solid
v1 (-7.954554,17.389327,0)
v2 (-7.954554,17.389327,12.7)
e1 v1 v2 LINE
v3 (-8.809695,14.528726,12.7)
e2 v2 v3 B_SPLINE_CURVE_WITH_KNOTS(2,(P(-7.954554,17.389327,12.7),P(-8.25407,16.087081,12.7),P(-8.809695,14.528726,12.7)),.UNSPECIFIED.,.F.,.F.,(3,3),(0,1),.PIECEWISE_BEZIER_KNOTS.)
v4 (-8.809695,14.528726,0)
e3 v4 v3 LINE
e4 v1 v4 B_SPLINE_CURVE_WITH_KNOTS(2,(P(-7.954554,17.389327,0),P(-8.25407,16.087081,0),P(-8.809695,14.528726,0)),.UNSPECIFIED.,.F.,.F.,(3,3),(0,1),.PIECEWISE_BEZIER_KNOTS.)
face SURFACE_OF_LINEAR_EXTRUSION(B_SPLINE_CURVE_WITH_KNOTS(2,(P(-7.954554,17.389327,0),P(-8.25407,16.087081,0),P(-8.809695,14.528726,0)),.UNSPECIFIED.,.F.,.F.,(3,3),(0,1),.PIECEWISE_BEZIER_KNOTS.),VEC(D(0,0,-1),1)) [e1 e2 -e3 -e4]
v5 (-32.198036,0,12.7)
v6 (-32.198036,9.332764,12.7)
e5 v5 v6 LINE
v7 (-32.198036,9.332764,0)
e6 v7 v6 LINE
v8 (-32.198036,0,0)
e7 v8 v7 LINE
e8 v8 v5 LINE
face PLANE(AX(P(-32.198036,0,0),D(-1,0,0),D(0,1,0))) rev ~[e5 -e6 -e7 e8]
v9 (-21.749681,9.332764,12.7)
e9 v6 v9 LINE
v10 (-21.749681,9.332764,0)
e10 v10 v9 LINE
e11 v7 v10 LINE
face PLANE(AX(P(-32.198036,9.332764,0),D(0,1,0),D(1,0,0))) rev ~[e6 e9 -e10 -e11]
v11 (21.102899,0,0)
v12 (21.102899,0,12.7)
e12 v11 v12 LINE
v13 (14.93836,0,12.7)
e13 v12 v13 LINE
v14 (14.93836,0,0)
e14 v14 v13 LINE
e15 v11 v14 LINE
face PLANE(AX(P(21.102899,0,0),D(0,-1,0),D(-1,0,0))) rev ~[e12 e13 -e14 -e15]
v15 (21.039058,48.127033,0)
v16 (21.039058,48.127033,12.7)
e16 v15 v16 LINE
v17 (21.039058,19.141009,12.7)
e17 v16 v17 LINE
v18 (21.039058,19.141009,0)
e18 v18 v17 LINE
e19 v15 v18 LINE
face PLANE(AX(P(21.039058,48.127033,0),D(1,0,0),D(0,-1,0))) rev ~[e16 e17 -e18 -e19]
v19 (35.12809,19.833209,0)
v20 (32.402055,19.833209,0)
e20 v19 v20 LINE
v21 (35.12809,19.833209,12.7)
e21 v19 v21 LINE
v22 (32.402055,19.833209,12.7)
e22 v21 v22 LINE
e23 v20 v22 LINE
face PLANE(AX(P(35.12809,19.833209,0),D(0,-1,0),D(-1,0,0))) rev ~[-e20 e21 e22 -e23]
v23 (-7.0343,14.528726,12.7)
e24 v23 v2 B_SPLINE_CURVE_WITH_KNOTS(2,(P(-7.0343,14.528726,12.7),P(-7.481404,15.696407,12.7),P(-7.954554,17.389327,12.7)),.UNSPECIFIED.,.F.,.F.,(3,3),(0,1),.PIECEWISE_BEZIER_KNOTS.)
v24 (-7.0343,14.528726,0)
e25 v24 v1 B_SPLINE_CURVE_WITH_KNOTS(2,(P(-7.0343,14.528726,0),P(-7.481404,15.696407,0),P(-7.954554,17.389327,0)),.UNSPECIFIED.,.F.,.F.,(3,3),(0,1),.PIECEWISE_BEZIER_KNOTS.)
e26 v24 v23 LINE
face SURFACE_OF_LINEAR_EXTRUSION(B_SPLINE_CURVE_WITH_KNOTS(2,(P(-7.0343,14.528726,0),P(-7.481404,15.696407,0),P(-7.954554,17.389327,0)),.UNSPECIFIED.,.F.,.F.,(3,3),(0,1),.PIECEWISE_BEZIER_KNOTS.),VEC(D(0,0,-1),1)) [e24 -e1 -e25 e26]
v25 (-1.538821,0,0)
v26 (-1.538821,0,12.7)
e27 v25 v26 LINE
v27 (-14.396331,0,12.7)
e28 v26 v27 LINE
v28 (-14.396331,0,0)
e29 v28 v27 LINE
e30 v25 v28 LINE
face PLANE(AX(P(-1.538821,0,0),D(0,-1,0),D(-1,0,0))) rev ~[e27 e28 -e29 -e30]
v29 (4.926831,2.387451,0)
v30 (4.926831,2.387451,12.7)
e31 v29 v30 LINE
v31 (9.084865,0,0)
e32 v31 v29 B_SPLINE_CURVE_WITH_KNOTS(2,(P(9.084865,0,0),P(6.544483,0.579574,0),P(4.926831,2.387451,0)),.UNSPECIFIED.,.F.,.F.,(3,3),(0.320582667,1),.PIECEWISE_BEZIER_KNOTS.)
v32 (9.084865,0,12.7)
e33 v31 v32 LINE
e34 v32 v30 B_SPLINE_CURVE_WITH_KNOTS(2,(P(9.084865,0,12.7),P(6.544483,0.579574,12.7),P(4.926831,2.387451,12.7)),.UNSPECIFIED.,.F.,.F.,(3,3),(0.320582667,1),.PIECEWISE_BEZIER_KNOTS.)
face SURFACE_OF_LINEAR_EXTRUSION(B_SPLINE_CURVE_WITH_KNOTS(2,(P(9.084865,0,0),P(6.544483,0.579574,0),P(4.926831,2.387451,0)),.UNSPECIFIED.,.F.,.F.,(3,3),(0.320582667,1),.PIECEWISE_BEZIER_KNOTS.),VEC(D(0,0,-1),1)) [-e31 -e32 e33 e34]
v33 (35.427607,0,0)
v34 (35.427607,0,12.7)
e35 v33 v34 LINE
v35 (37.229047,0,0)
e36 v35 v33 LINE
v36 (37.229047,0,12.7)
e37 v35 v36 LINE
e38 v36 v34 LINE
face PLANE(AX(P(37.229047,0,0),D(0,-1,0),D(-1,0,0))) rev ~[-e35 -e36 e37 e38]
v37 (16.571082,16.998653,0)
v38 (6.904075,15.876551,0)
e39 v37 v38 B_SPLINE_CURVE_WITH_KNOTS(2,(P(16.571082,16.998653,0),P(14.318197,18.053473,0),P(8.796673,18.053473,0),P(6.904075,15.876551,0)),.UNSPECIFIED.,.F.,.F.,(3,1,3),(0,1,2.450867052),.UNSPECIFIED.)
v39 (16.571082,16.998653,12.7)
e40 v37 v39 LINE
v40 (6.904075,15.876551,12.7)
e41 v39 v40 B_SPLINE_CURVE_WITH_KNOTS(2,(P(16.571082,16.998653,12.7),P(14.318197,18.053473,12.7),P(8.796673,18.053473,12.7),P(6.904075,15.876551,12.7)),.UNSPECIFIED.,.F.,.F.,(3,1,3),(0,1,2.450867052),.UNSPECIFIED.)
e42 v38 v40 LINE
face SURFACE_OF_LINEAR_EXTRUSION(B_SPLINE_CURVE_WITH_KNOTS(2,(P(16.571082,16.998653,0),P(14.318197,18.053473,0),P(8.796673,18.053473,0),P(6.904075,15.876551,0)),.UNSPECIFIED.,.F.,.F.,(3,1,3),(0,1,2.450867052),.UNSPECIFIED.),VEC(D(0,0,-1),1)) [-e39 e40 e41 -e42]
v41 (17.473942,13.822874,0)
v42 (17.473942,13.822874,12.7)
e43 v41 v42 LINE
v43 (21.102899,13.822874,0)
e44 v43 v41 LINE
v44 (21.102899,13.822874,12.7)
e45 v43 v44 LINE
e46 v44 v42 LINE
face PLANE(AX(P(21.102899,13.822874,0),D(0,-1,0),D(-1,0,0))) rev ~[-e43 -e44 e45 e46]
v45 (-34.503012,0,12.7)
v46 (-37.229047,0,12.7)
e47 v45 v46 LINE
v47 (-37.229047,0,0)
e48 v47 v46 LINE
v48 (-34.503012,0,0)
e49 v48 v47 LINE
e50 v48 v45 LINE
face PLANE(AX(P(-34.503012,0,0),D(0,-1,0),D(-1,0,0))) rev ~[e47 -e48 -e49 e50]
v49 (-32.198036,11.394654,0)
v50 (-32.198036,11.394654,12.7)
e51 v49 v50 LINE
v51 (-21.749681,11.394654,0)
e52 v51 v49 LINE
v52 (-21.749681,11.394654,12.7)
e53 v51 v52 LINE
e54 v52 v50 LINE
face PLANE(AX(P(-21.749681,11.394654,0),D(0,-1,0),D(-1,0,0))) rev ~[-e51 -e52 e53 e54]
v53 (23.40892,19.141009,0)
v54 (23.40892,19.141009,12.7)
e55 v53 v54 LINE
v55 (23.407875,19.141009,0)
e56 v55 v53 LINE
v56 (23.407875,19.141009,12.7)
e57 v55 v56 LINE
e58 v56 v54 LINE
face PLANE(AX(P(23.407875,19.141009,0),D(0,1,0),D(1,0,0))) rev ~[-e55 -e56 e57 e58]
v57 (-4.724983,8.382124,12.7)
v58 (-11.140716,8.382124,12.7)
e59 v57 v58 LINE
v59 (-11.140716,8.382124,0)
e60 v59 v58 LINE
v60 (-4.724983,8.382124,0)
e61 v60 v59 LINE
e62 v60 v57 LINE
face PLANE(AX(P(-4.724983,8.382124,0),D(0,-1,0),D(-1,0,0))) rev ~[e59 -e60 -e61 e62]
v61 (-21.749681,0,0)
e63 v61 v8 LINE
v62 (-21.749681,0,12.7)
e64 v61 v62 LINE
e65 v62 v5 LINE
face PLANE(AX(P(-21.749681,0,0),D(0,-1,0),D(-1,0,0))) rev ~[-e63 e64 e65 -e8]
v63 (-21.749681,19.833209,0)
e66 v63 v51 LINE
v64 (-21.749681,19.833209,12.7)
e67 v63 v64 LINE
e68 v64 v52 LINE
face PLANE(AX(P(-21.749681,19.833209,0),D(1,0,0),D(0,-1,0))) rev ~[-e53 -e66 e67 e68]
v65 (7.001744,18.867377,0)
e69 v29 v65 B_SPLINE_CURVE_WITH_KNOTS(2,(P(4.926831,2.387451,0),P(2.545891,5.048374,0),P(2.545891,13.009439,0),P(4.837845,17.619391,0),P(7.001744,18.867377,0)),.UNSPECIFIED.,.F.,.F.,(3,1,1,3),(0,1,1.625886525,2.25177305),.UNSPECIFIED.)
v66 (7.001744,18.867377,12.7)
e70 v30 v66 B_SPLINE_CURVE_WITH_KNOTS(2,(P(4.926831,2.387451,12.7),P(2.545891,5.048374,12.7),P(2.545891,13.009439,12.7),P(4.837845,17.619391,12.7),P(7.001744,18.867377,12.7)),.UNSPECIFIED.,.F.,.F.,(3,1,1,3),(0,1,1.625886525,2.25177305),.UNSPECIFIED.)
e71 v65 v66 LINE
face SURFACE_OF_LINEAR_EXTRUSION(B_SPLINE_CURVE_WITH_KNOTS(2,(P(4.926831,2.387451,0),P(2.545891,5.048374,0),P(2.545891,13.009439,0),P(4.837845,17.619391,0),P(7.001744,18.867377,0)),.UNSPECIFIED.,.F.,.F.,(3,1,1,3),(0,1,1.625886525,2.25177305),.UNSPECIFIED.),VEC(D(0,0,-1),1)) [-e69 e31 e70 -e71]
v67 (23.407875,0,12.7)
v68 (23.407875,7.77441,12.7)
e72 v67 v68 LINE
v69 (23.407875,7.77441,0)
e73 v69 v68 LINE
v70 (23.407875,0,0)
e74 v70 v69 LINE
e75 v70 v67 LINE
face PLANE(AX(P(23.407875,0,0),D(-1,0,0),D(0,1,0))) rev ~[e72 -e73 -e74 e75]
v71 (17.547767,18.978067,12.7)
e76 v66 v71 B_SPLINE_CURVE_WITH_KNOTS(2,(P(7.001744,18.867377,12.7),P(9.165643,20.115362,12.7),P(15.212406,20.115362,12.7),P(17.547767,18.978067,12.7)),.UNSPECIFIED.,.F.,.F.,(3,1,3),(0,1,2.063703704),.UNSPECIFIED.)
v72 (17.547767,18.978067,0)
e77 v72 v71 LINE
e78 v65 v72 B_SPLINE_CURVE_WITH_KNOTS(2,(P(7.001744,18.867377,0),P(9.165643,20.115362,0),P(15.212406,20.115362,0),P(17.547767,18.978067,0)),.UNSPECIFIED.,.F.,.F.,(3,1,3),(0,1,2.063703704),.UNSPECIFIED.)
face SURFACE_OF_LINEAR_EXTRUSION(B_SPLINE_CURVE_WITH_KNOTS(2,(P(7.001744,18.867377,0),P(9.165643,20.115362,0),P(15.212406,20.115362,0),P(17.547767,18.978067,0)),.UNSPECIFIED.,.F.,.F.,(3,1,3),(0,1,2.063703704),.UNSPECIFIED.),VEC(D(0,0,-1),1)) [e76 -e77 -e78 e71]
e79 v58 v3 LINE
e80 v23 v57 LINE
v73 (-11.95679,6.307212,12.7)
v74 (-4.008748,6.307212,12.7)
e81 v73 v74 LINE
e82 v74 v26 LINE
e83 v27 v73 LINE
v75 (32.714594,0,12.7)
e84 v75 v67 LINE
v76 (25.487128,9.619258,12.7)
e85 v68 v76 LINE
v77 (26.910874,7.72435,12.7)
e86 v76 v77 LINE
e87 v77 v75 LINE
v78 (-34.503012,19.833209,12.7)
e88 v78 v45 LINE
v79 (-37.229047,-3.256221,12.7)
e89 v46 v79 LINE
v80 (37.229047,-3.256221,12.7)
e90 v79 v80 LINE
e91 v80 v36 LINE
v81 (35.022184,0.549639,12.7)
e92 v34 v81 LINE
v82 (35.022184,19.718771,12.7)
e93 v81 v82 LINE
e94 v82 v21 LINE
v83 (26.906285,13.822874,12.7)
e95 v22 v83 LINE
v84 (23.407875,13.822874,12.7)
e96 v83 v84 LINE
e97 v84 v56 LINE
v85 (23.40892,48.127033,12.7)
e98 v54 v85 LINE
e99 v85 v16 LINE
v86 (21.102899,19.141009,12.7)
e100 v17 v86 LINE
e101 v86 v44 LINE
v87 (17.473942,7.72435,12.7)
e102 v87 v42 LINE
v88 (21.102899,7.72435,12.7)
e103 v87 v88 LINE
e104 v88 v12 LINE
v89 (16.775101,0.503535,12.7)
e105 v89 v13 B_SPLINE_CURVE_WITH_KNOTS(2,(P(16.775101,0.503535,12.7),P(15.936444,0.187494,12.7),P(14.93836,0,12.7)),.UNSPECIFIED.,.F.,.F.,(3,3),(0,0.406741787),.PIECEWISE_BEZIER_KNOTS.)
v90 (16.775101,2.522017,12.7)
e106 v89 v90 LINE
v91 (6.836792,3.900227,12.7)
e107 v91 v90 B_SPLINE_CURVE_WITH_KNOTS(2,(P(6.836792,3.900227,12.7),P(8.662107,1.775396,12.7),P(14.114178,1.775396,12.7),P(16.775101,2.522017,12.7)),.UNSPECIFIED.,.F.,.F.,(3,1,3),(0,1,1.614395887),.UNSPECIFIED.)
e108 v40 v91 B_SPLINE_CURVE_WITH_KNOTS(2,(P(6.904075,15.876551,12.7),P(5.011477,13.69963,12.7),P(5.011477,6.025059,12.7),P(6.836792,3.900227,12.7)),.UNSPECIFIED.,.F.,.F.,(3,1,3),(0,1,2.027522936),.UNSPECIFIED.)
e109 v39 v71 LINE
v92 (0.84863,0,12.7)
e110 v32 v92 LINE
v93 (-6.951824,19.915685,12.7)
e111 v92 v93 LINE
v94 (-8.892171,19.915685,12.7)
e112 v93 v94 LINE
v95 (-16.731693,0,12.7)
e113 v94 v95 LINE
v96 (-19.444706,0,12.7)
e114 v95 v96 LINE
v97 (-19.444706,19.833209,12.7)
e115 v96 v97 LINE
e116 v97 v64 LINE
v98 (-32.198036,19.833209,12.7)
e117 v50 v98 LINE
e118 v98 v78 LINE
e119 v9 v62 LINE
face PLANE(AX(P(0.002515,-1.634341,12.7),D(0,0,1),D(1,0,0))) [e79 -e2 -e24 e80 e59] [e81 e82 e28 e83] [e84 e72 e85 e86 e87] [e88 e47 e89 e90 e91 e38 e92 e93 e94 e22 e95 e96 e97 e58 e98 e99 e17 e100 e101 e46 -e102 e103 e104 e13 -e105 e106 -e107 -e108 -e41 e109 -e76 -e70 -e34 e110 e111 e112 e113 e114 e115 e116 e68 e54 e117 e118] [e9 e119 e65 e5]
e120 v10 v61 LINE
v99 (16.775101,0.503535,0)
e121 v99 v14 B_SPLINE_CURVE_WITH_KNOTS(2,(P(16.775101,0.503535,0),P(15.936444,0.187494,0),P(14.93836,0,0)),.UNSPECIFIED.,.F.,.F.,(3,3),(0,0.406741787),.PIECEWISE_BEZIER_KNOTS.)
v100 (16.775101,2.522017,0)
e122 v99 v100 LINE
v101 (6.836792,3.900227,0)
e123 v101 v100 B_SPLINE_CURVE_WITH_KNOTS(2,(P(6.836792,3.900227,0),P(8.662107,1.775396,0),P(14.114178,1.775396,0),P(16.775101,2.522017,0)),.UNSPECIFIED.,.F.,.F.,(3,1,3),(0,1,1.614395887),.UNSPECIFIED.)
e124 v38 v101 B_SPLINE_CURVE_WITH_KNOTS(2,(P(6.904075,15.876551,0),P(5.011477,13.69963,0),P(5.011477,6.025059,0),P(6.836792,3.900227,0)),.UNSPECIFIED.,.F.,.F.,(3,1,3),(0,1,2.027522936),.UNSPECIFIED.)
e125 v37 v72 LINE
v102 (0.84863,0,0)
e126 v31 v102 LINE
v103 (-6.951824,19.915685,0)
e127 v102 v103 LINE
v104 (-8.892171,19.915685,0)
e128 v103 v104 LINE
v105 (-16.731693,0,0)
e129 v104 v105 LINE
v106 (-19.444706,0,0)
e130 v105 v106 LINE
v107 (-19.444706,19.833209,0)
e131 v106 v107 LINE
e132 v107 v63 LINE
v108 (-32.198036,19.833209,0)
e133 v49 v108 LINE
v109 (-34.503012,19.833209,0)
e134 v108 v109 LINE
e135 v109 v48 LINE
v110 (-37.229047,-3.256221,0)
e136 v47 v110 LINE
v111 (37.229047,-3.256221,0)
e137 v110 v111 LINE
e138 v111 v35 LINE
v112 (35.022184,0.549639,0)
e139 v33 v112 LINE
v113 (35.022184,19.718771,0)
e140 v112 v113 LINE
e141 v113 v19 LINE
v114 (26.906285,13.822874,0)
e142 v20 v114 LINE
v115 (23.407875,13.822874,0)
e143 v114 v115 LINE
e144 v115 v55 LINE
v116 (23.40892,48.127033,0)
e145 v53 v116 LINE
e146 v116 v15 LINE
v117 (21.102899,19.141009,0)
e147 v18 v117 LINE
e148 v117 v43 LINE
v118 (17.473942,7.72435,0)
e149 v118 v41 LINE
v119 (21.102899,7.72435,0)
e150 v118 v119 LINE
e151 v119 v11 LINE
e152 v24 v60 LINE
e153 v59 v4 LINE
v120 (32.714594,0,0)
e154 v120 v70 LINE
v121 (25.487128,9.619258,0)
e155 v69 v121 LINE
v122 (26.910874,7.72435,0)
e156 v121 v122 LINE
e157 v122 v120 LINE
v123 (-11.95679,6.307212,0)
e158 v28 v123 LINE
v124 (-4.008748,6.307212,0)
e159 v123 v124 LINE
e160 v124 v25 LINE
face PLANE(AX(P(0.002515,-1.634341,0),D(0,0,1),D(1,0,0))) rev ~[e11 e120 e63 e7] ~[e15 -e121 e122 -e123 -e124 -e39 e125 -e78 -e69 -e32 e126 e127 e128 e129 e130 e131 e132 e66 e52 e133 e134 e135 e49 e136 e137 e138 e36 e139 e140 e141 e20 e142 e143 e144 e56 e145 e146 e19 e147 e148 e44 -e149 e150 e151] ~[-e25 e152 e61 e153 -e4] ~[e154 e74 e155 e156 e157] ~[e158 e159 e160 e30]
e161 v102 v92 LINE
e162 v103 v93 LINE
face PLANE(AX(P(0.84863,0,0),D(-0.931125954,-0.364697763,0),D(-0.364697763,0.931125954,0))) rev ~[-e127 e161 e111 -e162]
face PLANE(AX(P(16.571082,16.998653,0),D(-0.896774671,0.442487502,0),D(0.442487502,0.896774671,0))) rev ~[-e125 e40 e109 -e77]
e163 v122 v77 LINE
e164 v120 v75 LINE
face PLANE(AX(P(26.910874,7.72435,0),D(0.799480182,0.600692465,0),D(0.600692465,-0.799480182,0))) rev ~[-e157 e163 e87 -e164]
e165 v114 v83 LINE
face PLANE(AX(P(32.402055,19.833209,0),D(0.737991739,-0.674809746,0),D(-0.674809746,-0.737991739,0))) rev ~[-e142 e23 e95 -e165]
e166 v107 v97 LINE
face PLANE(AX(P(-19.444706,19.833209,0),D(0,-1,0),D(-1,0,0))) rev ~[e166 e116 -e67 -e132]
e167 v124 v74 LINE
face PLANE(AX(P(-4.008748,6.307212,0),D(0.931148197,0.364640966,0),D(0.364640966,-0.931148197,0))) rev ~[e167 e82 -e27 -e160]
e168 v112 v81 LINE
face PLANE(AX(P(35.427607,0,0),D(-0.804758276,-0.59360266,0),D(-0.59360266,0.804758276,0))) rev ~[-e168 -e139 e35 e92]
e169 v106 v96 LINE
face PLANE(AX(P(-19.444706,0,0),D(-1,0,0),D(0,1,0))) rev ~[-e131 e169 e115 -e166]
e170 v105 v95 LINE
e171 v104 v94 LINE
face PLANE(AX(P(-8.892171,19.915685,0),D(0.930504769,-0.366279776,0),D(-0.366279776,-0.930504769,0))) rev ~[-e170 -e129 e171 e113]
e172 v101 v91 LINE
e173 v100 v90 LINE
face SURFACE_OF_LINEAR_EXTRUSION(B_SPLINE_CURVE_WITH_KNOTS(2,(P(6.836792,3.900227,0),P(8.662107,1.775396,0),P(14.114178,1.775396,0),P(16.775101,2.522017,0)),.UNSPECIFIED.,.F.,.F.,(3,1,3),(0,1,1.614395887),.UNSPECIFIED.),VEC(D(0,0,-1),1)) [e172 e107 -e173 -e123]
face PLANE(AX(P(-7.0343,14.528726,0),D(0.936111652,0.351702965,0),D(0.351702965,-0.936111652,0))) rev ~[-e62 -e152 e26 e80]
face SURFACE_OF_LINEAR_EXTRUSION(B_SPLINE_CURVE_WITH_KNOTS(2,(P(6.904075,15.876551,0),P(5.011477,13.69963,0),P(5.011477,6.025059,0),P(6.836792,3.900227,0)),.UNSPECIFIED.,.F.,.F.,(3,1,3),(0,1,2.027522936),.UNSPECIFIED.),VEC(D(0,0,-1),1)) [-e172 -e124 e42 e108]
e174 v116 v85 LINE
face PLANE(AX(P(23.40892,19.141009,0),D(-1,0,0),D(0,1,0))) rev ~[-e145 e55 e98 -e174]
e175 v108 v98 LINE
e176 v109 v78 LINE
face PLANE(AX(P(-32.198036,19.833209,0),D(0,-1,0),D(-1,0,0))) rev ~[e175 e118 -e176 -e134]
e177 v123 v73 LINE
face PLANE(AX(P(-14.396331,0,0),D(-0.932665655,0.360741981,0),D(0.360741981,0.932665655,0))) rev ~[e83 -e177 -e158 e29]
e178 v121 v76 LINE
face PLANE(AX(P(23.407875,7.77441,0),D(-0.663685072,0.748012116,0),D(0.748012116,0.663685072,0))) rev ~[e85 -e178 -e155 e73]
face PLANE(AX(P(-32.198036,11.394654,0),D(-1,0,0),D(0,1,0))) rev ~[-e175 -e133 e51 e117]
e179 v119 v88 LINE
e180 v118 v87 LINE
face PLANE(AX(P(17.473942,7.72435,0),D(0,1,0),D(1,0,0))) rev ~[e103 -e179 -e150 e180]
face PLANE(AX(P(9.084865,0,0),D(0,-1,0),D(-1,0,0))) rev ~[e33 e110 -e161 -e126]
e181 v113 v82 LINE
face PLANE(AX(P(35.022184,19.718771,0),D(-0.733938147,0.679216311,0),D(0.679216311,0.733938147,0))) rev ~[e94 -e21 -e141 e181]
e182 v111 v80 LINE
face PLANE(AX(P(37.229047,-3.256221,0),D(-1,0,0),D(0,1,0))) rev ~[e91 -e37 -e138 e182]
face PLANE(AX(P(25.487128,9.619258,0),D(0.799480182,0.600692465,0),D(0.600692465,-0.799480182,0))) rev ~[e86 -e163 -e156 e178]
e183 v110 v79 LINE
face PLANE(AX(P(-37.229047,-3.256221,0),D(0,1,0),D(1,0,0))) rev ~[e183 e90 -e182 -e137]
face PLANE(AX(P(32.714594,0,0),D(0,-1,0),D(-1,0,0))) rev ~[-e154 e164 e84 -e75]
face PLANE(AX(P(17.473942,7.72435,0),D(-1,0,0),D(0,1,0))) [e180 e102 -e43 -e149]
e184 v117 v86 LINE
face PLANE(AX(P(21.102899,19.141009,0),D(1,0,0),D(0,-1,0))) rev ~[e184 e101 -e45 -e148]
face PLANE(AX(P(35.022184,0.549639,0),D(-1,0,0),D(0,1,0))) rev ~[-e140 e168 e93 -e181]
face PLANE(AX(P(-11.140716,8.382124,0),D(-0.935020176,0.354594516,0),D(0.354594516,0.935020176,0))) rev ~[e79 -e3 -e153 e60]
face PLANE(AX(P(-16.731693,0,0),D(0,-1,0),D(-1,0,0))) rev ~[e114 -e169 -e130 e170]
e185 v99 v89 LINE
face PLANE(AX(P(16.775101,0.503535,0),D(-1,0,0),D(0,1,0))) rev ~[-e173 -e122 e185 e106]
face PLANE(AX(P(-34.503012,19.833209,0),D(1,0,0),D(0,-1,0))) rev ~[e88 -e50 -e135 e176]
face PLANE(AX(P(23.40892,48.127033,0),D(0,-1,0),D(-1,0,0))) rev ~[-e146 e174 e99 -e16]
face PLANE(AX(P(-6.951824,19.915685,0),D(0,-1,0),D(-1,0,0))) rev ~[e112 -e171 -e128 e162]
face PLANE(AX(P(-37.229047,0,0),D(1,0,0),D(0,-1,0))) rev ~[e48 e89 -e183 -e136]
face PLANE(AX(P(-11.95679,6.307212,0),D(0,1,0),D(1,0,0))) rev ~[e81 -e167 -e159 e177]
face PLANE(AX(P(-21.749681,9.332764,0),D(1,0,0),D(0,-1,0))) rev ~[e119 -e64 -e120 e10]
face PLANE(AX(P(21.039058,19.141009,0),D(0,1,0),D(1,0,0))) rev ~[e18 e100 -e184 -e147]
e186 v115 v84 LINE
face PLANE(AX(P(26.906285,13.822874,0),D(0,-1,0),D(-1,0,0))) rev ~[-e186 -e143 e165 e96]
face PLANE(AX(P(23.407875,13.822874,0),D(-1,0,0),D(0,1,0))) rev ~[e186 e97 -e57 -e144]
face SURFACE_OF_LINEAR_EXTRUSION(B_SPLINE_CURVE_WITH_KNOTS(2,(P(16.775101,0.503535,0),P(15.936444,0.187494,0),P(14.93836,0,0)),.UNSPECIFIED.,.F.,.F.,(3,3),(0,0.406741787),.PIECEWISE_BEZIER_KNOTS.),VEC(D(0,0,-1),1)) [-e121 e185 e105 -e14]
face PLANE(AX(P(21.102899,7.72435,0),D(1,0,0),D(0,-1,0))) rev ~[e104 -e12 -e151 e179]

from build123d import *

# Parameters (mm, degrees)
F0_W     = 2.304975711
F0_H     = 7.7243503183
F0_W_2   = 3.6289574255
F0_H_2   = 6.098523736
F0_H_3   = 5.3181350231
F0_H_4   = 0.6922000066
F1_DEPTH = 12.7


with BuildPart() as f1:
    # F0 (on Top) → F1 (new body)
    with BuildSketch(Plane.XY):
        with BuildLine():
            Line((-34.5030121262, 0), (-37.2290474303, 0))
            Line((-37.2290474303, 0), (-37.2290474303, -3.256221069))
            Line((-37.2290474303, -3.256221069), (37.2290474303, -3.256221069))
            Line((37.2290474303, -3.256221069), (37.2290474303, 0))
            Line((37.2290474303, 0), (35.4276069029, 0))
            Line((35.4276069029, 0), (35.0221842527, 0))
            Line((35.0221842527, 0), (32.7145940604, 0))
            Line((32.7145940604, 0), (23.4078748053, 0))
            Line((23.4078748053, 0), (21.1028990943, 0))
            Line((21.1028990943, 0), (14.9383603664, 0))
            add(Edge.make_bspline(
                [(14.9383603664, 0), (13.4825928521, -0.2734716945), (11.6876593256, -0.2734716945)],
                knots=[0.406741787, 0.406741787, 0.406741787, 1, 1, 1], degree=2))
            add(Edge.make_bspline(
                [(11.6876593256, -0.2734716945), (10.2835431713, -0.2734716945), (9.0848653779, 0)],
                knots=[0, 0, 0, 0.3205826669, 0.3205826669, 0.3205826669], degree=2))
            Line((9.0848653779, 0), (0.8486304171, 0))
            Line((0.8486304171, 0), (-1.5388208843, 0))
            Line((-1.5388208843, 0), (-14.3963313476, 0))
            Line((-14.3963313476, 0), (-16.7316928024, 0))
            Line((-16.7316928024, 0), (-19.444705645, 0))
            Line((-19.444705645, 0), (-21.749681356, 0))
            Line((-21.749681356, 0), (-32.1980364151, 0))
            Line((-32.1980364151, 0), (-34.5030121262, 0))
        make_face()
        Polygon((-34.5030121262, 19.833209084), (-34.5030121262, 0), (-32.1980364151, 0), (-32.1980364151, 9.3327641783), (-21.749681356, 9.3327641783), (-21.749681356, 0), (-19.444705645, 0), (-19.444705645, 19.833209084), (-21.749681356, 19.833209084), (-21.749681356, 11.3946539386), (-32.1980364151, 11.3946539386), (-32.1980364151, 19.833209084), align=None)
        Polygon((35.0221842527, 0), (35.4276069029, 0), (35.0221842527, 0.5496391018), align=None)
        Polygon((-8.8921708927, 19.9156846744), (-16.7316928024, 0), (-14.3963313476, 0), (-11.9567901996, 6.3072122563), (-4.0087477761, 6.3072122563), (-1.5388208843, 0), (0.8486304171, 0), (-6.9518241077, 19.9156846744), align=None)
        with BuildLine():
            Line((-7.0342996981, 14.5287263743), (-4.7249831665, 8.3821244783))
            Line((-4.7249831665, 8.3821244783), (-11.1407159366, 8.3821244783))
            Line((-11.1407159366, 8.3821244783), (-8.8096953023, 14.5287263743))
            add(Edge.make_bspline(
                [(-7.9545536543, 17.3893271155), (-8.2540702721, 16.0870809511), (-8.8096953023, 14.5287263743)],
                knots=[0, 0, 0, 1, 1, 1], degree=2))
            add(Edge.make_bspline(
                [(-7.0342996981, 14.5287263743), (-7.4814042146, 15.6964071017), (-7.9545536543, 17.3893271155)],
                knots=[0, 0, 0, 1, 1, 1], degree=2))
        make_face(mode=Mode.SUBTRACT)
        Polygon((32.7145940604, 0), (35.0221842527, 0), (35.0221842527, 0.5496391018), (27.1540029383, 11.2166802962), (35.0221842527, 19.7187706114), (35.0221842527, 19.833209084), (32.4020549809, 19.833209084), (26.9062852626, 13.8228740543), (27.0378924906, 13.8228740543), (27.0378924906, 7.7243503183), (26.9108741687, 7.7243503183), align=None)
        Polygon((27.1540029383, 11.2166802962), (35.0221842527, 0.5496391018), (35.0221842527, 19.7187706114), align=None)
        Polygon((35.0221842527, 19.833209084), (35.0221842527, 19.7187706114), (35.1280902851, 19.833209084), align=None)
        with Locations((22.2553869498, 3.8621751592)):
            Rectangle(F0_W, F0_H)
        Polygon((25.4871278479, 9.6192583345), (26.9108741687, 7.7243503183), (27.0378924906, 7.7243503183), (27.0378924906, 13.8228740543), (26.9062852626, 13.8228740543), (23.4078748053, 9.9969097222), (23.4078748053, 13.8228740543), (21.1028990943, 13.8228740543), (21.1028990943, 7.7243503183), (23.4078748053, 7.7243503183), (23.4078748053, 7.7744096016), align=None)
        with BuildLine():
            add(Edge.make_bspline(
                [(9.0848653779, 0), (6.544483275, 0.579574096), (4.926831322, 2.3874513014)],
                knots=[0.3205826669, 0.3205826669, 0.3205826669, 1, 1, 1], degree=2))
            Line((9.0848653779, 0), (14.9383603664, 0))
            add(Edge.make_bspline(
                [(16.7751010079, 0.5035351836), (15.9364442822, 0.1874940174), (14.9383603664, 0)],
                knots=[0, 0, 0, 0.406741787, 0.406741787, 0.406741787], degree=2))
            Line((16.7751010079, 0.5035351836), (16.7751010079, 2.5220167384))
            add(Edge.make_bspline(
                [(12.03926579, 1.7753956042), (14.114178012, 1.7753956042), (16.7751010079, 2.5220167384)],
                knots=[0, 0, 0, 1, 1, 1], degree=2))
            add(Edge.make_bspline(
                [(6.8367923632, 3.9002272624), (8.6621074036, 1.7753956042), (12.03926579, 1.7753956042)],
                knots=[0, 0, 0, 1, 1, 1], degree=2))
            add(Edge.make_bspline(
                [(5.0114773227, 9.9144341317), (5.0114773227, 6.0250589207), (6.8367923632, 3.9002272624)],
                knots=[0, 0, 0, 1, 1, 1], degree=2))
            add(Edge.make_bspline(
                [(6.9040750817, 15.8765511545), (5.0114773227, 13.6996296496), (5.0114773227, 9.9144341317)],
                knots=[0, 0, 0, 1, 1, 1], degree=2))
            add(Edge.make_bspline(
                [(12.0653107133, 18.0534726593), (8.7966728406, 18.0534726593), (6.9040750817, 15.8765511545)],
                knots=[0, 0, 0, 1, 1, 1], degree=2))
            add(Edge.make_bspline(
                [(16.5710824422, 16.9986532662), (14.3181965777, 18.0534726593), (12.0653107133, 18.0534726593)],
                knots=[0, 0, 0, 1, 1, 1], degree=2))
            Line((16.5710824422, 16.9986532662), (17.5477670655, 18.9780674361))
            add(Edge.make_bspline(
                [(12.0956964571, 20.1153624196), (15.2124056106, 20.1153624196), (17.5477670655, 18.9780674361)],
                knots=[0, 0, 0, 1, 1, 1], degree=2))
            add(Edge.make_bspline(
                [(7.001743544, 18.8673765121), (9.1656425872, 20.1153624196), (12.0956964571, 20.1153624196)],
                knots=[0, 0, 0, 1, 1, 1], degree=2))
            add(Edge.make_bspline(
                [(3.6918678761, 15.3144148935), (4.8378445008, 17.6193906045), (7.001743544, 18.8673765121)],
                knots=[0, 0, 0, 1, 1, 1], degree=2))
            add(Edge.make_bspline(
                [(2.5458912514, 9.9448198756), (2.5458912514, 13.0094391825), (3.6918678761, 15.3144148935)],
                knots=[0, 0, 0, 1, 1, 1], degree=2))
            add(Edge.make_bspline(
                [(4.926831322, 2.3874513014), (2.5458912514, 5.0483742974), (2.5458912514, 9.9448198756)],
                knots=[0, 0, 0, 1, 1, 1], degree=2))
        make_face()
        with BuildLine():
            Line((14.9383603664, 0), (9.0848653779, 0))
            add(Edge.make_bspline(
                [(11.6876593256, -0.2734716945), (10.2835431713, -0.2734716945), (9.0848653779, 0)],
                knots=[0, 0, 0, 0.3205826669, 0.3205826669, 0.3205826669], degree=2))
            add(Edge.make_bspline(
                [(14.9383603664, 0), (13.4825928521, -0.2734716945), (11.6876593256, -0.2734716945)],
                knots=[0.406741787, 0.406741787, 0.406741787, 1, 1, 1], degree=2))
        make_face()
        with Locations((19.2884203816, 10.7736121863)):
            Rectangle(F0_W_2, F0_H_2)
        Polygon((23.4078748053, 9.9969097222), (26.9062852626, 13.8228740543), (23.4078748053, 13.8228740543), align=None)
        with Locations((22.2553869498, 16.4819415659)):
            Rectangle(F0_W, F0_H_3)
        with Locations((22.2553869498, 19.4871090807)):
            Rectangle(F0_W, F0_H_4)
        Polygon((21.039057523, 19.1410090774), (21.1028990943, 19.1410090774), (21.1028990943, 19.833209084), (23.4078748053, 19.833209084), (23.4078748053, 19.1410090774), (23.4089195728, 19.1410090774), (23.4089195728, 48.1270328164), (21.039057523, 48.1270328164), align=None)
    extrude(amount=F1_DEPTH)


solid = f1.part
